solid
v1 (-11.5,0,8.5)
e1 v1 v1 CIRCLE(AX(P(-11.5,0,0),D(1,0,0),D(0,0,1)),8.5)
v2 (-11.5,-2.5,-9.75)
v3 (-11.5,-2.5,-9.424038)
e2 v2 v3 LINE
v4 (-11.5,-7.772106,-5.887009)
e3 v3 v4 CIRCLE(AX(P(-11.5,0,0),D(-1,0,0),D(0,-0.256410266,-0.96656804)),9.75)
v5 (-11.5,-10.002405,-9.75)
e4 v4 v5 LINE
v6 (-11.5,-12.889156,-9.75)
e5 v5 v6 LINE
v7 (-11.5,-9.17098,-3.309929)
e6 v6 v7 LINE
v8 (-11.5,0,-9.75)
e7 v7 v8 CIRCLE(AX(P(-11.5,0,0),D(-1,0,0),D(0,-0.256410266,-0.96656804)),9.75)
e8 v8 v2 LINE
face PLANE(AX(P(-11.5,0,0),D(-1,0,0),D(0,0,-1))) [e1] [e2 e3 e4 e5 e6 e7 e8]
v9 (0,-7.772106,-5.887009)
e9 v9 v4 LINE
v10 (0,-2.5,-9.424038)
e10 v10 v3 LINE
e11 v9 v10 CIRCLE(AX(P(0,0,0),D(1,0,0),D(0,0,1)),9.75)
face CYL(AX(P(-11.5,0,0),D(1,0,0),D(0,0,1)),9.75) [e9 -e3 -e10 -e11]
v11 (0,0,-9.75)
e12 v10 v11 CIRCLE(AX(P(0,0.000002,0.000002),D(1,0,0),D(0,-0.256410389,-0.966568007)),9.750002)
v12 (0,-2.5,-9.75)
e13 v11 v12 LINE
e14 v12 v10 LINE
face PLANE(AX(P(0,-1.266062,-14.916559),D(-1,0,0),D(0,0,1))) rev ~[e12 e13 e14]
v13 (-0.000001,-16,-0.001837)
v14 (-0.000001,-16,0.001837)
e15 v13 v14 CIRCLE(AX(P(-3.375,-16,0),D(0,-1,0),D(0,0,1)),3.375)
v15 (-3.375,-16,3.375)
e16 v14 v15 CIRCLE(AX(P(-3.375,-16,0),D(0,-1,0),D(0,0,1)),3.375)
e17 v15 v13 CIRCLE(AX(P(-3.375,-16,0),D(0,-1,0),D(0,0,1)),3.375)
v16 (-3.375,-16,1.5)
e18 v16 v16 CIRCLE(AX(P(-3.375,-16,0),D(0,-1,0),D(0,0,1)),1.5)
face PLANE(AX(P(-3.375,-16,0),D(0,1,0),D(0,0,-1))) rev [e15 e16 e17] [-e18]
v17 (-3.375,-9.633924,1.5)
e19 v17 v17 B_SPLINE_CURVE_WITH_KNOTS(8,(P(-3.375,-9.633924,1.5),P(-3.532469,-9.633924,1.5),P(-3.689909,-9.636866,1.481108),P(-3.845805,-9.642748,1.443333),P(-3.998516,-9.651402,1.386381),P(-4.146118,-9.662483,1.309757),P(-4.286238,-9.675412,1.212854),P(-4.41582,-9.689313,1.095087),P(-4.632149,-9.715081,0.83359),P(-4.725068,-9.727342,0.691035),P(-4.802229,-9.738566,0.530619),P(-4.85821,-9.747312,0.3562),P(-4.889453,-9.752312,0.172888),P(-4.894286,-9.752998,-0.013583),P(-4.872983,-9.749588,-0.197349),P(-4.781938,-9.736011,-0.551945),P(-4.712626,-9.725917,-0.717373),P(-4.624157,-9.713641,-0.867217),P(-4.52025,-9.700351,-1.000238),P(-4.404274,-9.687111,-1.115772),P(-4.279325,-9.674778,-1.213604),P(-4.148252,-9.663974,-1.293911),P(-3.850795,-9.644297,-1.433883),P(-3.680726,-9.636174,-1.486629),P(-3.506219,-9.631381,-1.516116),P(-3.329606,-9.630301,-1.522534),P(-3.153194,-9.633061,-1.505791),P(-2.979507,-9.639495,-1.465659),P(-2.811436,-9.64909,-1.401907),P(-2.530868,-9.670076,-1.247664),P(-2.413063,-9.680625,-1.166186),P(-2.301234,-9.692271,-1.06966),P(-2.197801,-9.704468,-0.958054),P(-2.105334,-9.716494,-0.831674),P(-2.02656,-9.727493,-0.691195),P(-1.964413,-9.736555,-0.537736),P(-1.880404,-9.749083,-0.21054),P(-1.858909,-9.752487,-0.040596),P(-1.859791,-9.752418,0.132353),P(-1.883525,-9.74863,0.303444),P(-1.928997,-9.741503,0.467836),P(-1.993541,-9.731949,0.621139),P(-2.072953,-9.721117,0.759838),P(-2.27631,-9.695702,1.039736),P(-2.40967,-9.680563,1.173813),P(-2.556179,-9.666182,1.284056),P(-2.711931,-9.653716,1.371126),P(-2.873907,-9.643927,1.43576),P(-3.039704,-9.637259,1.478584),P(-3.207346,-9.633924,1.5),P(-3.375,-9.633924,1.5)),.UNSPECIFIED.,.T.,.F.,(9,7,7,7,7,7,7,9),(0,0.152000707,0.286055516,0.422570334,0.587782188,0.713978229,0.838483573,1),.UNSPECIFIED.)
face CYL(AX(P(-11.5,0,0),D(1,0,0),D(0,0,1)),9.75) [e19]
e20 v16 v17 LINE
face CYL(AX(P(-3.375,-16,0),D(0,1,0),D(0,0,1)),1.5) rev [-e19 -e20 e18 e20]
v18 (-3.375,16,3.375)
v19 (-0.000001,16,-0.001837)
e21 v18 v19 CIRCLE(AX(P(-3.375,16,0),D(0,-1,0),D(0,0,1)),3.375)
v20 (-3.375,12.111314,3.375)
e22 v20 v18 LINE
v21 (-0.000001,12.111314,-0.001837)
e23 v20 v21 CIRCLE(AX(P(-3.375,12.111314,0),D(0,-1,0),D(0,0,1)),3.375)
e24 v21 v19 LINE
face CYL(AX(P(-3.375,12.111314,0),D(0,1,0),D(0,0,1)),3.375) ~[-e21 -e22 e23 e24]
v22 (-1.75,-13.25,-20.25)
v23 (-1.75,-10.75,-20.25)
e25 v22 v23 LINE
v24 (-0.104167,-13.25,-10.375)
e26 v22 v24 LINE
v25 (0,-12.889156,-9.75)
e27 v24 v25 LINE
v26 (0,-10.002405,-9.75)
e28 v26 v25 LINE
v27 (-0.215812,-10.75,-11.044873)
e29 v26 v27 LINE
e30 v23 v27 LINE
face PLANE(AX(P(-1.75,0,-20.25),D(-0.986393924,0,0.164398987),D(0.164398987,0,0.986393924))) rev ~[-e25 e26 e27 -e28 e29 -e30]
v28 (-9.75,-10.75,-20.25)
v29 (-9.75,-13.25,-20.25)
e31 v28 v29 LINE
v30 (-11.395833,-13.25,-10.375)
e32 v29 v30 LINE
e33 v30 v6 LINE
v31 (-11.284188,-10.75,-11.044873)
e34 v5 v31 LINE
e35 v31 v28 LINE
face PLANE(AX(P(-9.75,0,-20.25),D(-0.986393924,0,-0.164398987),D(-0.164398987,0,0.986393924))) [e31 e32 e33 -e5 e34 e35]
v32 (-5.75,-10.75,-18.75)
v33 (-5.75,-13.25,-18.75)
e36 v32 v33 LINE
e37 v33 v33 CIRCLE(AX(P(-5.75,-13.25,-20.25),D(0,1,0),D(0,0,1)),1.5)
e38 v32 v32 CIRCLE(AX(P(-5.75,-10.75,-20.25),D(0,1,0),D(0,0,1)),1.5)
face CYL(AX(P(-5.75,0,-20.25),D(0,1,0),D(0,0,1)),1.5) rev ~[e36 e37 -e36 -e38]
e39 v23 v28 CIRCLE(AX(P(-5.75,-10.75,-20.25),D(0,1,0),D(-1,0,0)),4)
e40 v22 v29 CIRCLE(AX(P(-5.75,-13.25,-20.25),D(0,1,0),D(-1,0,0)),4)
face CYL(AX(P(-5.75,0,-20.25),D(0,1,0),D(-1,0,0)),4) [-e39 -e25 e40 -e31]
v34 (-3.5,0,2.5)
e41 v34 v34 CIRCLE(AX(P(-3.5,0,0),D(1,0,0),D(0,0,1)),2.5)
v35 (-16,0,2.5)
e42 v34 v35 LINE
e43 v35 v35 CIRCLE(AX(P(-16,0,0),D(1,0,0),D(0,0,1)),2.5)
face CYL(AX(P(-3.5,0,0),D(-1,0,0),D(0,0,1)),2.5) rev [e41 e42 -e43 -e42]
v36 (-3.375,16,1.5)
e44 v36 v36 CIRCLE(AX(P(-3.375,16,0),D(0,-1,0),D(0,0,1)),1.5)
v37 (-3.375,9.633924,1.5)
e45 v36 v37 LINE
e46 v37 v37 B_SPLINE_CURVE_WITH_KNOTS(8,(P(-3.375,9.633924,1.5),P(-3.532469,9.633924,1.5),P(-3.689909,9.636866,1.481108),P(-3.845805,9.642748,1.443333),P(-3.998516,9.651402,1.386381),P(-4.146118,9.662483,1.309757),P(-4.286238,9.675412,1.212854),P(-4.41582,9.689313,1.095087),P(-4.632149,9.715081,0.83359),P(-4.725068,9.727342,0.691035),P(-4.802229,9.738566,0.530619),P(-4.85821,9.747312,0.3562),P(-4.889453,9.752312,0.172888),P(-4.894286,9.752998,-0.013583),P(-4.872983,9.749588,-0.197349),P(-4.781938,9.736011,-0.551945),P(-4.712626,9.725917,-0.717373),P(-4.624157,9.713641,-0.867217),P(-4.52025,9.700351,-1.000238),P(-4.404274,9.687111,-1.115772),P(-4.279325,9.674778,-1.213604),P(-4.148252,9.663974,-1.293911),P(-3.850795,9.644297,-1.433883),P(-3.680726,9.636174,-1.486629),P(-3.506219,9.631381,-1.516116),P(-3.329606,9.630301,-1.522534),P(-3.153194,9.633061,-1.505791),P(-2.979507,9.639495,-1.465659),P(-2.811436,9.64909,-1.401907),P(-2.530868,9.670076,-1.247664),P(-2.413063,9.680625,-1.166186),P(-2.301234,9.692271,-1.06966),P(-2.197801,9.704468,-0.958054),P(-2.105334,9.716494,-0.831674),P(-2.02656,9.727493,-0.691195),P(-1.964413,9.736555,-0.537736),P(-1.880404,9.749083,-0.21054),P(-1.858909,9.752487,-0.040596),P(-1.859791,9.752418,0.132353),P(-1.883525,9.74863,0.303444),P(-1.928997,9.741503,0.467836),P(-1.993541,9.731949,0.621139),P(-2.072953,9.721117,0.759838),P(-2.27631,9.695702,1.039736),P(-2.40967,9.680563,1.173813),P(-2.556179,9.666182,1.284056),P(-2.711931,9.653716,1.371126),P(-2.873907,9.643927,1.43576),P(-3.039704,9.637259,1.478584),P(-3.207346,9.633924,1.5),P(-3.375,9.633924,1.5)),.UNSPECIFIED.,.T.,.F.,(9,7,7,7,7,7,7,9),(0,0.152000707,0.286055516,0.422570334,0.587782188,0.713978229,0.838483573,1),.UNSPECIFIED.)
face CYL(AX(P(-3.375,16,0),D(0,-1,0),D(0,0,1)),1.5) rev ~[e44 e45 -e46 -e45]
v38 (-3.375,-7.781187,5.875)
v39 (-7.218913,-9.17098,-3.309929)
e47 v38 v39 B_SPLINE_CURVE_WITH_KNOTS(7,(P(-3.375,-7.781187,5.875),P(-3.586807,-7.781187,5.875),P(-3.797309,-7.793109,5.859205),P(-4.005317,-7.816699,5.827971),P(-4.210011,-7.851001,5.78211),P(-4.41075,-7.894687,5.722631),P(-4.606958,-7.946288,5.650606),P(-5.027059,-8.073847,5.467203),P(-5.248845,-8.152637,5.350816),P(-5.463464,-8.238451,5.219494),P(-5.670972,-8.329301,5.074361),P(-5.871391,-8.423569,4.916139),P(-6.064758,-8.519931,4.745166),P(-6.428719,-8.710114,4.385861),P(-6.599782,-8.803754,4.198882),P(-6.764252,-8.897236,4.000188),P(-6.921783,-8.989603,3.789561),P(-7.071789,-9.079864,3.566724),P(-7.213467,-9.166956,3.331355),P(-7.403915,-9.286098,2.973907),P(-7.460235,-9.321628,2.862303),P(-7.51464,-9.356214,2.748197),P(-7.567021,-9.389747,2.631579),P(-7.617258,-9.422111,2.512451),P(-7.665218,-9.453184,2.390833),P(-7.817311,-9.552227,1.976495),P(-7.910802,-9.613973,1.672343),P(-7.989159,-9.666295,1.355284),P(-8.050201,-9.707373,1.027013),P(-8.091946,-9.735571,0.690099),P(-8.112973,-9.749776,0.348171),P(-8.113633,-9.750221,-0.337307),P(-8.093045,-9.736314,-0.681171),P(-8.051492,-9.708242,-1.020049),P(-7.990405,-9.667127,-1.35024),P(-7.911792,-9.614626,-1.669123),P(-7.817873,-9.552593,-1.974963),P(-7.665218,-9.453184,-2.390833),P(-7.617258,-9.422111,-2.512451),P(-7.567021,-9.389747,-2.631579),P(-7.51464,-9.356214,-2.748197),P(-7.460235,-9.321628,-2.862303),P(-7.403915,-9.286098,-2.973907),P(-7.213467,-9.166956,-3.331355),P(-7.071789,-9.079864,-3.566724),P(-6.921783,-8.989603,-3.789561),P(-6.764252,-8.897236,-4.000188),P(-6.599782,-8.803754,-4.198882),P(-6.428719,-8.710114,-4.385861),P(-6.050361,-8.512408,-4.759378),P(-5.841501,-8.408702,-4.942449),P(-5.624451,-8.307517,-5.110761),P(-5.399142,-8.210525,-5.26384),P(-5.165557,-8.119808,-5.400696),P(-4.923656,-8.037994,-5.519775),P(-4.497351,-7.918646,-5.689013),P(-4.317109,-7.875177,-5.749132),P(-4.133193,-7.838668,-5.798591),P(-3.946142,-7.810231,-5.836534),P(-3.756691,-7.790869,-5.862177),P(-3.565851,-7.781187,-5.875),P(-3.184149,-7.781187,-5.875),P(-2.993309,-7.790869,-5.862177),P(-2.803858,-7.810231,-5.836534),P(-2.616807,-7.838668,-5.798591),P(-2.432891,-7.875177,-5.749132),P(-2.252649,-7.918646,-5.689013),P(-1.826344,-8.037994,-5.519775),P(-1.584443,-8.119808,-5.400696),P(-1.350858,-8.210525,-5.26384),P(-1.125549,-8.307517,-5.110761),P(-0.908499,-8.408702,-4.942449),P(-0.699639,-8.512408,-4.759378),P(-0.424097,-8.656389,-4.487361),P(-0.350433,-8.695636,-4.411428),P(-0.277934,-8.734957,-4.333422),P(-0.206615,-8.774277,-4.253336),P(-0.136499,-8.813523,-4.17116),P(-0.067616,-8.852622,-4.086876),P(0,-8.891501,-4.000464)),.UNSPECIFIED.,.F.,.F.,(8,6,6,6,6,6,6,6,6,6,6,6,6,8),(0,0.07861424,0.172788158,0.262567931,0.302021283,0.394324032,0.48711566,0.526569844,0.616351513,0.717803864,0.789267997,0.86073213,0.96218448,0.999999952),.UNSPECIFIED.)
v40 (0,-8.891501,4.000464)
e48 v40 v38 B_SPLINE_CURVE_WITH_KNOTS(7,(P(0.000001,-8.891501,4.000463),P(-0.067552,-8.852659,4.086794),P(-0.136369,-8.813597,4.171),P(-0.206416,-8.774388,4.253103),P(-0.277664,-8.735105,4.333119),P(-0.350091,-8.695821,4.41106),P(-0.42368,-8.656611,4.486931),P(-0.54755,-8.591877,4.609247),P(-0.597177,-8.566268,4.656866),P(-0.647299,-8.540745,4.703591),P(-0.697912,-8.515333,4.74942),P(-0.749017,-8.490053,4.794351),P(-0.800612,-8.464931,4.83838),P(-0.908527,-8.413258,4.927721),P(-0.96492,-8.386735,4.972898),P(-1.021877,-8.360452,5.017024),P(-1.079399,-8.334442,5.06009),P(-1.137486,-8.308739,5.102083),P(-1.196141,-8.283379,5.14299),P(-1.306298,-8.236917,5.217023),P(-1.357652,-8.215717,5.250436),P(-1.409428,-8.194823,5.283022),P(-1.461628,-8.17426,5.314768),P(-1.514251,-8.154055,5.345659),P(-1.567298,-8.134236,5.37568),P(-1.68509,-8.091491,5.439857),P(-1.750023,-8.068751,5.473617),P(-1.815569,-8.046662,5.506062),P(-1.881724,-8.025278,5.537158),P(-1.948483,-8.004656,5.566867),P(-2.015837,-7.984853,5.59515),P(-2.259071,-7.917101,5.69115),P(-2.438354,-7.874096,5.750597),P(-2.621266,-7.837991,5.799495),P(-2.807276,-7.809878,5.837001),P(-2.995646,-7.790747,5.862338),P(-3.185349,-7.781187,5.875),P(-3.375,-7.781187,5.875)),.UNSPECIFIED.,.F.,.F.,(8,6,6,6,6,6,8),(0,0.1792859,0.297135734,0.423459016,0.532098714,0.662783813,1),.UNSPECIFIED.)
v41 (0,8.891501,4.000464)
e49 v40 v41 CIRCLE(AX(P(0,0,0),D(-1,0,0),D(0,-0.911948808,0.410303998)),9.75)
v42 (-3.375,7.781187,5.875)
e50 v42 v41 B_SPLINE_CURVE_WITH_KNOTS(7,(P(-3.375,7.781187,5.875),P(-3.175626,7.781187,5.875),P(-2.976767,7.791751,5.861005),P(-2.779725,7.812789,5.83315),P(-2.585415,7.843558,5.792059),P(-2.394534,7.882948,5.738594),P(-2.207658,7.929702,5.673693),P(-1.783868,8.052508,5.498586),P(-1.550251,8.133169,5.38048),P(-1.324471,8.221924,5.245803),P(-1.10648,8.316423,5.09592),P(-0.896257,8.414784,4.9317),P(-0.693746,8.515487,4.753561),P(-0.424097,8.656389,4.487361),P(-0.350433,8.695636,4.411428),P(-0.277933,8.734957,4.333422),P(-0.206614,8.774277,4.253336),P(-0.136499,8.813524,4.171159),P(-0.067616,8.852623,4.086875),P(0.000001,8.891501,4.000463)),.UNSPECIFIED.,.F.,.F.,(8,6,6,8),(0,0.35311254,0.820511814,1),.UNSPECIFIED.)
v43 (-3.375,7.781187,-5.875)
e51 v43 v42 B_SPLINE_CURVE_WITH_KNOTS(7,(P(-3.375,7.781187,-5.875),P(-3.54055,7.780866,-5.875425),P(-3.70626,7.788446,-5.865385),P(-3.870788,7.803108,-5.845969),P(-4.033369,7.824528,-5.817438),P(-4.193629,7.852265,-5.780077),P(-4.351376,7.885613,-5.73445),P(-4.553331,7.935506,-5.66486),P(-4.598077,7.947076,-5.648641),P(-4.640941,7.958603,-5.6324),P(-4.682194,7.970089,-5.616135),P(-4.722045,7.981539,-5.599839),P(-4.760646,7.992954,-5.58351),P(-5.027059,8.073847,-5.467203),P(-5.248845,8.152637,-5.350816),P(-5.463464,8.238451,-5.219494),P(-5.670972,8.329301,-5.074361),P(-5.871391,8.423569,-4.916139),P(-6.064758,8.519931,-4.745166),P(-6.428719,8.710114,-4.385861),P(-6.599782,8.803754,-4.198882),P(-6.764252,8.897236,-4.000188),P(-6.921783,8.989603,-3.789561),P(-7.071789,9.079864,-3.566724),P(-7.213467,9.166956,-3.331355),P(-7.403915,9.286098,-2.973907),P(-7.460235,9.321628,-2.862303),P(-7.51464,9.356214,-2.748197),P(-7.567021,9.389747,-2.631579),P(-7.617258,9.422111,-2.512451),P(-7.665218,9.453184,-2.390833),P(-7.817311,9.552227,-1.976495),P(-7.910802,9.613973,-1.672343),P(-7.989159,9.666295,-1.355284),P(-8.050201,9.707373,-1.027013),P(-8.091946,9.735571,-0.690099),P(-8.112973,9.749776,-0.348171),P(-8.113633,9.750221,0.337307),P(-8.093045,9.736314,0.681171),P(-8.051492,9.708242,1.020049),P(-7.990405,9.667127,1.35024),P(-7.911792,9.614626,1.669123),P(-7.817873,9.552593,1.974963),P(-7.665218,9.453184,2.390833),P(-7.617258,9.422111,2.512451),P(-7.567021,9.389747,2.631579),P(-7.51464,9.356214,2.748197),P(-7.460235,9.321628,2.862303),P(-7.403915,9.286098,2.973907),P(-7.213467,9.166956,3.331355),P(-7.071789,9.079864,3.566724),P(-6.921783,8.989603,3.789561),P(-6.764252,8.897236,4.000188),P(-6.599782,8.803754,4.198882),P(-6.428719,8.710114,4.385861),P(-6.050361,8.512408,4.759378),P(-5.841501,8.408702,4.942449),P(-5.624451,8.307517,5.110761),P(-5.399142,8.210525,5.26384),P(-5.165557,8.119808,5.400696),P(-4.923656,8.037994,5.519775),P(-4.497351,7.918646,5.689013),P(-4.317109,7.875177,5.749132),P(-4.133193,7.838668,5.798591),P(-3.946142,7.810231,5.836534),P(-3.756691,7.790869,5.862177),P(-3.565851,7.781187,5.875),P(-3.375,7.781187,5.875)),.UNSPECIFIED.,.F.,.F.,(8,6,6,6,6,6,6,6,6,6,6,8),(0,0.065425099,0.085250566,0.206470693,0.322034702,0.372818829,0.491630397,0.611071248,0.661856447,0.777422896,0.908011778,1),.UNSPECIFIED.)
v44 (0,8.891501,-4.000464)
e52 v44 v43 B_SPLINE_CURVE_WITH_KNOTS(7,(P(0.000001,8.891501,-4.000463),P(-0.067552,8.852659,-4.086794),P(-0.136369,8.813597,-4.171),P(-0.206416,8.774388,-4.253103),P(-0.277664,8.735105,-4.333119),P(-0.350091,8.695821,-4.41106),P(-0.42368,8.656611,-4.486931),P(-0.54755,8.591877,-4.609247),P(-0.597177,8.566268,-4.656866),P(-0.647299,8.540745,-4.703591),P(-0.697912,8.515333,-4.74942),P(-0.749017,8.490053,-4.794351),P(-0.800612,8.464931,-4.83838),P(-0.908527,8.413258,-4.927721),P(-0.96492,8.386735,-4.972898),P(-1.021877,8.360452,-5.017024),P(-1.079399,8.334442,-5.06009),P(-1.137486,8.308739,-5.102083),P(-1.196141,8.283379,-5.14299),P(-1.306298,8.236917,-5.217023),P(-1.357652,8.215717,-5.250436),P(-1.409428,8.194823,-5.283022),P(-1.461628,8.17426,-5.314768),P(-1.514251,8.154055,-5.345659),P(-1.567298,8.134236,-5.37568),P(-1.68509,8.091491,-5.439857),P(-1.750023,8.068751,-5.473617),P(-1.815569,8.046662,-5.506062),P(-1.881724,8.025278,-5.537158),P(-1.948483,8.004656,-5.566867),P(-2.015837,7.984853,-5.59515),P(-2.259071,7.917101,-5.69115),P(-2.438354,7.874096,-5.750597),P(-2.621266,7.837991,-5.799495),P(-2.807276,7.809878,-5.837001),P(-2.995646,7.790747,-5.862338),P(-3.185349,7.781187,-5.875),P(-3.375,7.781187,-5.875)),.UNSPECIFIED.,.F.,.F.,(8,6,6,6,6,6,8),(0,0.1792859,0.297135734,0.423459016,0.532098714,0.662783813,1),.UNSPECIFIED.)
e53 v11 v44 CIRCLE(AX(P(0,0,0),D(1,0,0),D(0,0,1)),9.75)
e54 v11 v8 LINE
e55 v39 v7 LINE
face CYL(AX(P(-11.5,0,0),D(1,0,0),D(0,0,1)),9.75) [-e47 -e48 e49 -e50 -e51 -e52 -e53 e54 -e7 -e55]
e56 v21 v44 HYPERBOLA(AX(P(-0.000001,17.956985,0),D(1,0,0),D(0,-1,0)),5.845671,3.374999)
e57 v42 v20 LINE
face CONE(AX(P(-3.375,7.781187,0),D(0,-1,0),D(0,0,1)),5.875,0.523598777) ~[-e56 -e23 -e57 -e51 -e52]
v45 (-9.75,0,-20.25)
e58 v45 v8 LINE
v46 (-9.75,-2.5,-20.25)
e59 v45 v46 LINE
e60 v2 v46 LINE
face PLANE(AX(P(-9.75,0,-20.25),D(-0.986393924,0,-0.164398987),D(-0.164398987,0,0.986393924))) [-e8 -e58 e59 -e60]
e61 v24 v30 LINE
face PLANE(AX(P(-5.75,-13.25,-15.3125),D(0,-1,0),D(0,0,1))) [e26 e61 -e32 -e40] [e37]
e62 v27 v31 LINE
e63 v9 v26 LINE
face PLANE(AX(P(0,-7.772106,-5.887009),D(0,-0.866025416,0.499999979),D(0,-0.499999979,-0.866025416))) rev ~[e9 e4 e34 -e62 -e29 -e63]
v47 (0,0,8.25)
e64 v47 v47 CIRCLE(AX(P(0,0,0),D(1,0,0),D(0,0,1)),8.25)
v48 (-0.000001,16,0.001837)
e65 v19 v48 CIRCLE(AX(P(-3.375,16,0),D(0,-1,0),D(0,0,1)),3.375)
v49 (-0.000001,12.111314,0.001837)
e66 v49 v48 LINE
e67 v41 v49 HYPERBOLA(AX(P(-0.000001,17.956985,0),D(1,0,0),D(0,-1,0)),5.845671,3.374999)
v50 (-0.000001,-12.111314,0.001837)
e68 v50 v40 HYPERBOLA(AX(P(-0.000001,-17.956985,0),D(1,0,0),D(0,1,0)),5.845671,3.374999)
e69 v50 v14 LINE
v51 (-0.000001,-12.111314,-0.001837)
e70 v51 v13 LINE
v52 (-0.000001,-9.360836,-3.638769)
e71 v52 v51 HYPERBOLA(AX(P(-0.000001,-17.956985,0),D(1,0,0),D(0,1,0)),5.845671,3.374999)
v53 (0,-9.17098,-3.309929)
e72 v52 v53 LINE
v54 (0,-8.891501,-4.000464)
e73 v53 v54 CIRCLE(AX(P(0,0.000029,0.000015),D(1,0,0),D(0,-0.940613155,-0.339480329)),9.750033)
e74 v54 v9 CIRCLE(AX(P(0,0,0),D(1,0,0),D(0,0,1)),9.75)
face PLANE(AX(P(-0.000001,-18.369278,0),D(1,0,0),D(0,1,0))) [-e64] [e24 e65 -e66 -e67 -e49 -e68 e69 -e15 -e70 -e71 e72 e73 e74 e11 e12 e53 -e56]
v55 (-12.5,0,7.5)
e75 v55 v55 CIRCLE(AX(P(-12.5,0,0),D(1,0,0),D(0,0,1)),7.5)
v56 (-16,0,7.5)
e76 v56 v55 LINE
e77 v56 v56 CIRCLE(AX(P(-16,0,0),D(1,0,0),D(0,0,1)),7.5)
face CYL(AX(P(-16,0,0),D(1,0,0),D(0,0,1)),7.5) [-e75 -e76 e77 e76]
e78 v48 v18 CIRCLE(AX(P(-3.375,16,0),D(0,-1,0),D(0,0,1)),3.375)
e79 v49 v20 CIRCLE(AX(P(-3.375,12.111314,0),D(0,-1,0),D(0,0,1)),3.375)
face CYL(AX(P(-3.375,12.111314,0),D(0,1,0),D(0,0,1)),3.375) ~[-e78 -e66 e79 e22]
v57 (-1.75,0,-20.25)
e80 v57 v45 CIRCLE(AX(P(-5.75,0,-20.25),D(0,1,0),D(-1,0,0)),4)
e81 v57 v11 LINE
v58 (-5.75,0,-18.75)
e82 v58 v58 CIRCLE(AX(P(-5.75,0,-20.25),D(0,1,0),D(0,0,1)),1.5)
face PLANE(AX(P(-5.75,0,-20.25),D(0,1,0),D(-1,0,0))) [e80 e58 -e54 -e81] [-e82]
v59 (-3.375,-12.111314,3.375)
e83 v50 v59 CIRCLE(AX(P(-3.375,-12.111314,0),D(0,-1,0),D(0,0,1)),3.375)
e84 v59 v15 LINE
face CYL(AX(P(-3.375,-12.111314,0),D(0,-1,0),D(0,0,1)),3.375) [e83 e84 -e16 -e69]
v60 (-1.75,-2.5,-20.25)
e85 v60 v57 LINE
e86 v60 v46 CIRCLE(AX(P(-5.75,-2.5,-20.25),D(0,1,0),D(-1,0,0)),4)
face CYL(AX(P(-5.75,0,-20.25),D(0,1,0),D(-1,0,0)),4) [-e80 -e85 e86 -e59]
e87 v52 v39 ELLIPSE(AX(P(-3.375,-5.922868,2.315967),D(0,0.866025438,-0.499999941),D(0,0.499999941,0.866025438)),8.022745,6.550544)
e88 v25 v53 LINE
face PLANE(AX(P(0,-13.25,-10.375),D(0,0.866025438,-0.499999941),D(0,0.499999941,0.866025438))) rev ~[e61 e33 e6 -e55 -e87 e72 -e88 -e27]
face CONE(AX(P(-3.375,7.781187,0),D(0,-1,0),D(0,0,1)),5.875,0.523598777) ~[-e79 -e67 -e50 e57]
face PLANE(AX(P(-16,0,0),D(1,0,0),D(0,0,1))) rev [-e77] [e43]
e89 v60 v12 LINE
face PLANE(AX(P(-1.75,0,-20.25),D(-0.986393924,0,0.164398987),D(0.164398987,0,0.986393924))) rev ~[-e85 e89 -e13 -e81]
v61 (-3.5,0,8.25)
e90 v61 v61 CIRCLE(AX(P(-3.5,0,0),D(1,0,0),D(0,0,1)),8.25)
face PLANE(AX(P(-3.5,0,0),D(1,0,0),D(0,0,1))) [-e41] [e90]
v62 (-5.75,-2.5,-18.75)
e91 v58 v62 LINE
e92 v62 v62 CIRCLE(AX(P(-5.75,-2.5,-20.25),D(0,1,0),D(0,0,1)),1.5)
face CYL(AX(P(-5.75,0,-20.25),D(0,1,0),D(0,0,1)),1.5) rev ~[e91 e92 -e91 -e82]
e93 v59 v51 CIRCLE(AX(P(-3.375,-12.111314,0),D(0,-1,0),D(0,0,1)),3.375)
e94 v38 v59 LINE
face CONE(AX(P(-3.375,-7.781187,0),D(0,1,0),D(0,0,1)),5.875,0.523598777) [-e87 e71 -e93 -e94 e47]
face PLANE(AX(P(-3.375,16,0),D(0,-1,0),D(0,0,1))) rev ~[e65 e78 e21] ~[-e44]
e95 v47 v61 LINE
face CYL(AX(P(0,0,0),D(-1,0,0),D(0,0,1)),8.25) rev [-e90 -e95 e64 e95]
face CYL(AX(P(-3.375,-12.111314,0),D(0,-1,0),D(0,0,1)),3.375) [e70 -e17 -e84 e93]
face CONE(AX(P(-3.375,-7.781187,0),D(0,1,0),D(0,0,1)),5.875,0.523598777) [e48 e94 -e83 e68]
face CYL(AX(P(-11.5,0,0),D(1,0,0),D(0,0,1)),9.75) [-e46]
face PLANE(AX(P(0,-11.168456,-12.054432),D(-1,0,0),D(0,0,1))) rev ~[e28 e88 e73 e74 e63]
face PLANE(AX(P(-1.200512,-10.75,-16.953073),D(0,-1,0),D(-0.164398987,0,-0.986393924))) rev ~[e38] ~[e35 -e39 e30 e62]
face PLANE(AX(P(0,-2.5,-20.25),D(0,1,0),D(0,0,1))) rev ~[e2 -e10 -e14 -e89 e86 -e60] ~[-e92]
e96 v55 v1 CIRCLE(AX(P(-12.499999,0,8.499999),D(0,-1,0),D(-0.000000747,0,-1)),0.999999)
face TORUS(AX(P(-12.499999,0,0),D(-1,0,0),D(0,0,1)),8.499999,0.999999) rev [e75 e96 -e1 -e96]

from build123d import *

# Parameters (mm, degrees)
SKETCH3_W           = 7.302665
SKETCH3_H           = 36.305572
FACE_CUT_DEPTH      = 10
LINK_ARMS_REACH     = 26.639
ROUNDED_LINKS_REACH = 32.365
SKETCH6_R           = 4
TRIM_1_REACH        = 35.167
SKETCH7_R           = 1.5
SKETCH8_W           = 8
SKETCH8_H           = 8.25
TRIM_2_DEPTH        = 15


with BuildPart() as part:
    # Sketch1 → Base Cylinder (revolve)
    with BuildSketch(Plane.XY, mode=Mode.PRIVATE) as base_cylinder_sk:
        with BuildLine():
            Line((-16, 2.5), (-16, 7.5))
            Line((-16, 7.5), (-12.5, 7.5))
            ThreePointArc((-12.5, 7.5), (-11.792893, 7.792893), (-11.5, 8.5))
            Line((-11.5, 8.5), (-11.5, 9.75))
            Line((-11.5, 9.75), (0, 9.75))
            Line((0, 9.75), (0, 8.25))
            Line((0, 8.25), (-3.5, 8.25))
            Line((-3.5, 8.25), (-3.5, 2.5))
            Line((-3.5, 2.5), (-16, 2.5))
        make_face()
    revolve(base_cylinder_sk.sketch.rotate(Axis((-29.02439, 0, 0), (1, 0, 0)), 90), axis=Axis((-29.02439, 0, 0), (1, 0, 0)))

    # Sketch2 → Suspension attachments (revolve)
    with BuildSketch(Plane(origin=(-3.375, 0, 0), x_dir=(0, 0, -1), z_dir=(1, 0, 0))):
        with BuildLine():
            Line((-3.375, 16), (-1.5, 16))
            Line((-1.5, 16), (-1.5, 9.633924))
            ThreePointArc((-1.5, 9.633924), (-3.80208, 8.978123), (-5.875, 7.781187))
            Line((-5.875, 7.781187), (-3.375, 12.111314))
            Line((-3.375, 12.111314), (-3.375, 16))
        make_face()
    suspension_attachments = revolve(axis=Axis((-3.375, 16.888615, 0), (0, -1, 0)))

    # Mirror1: Suspension attachments across plane
    add(suspension_attachments.mirror(Plane.ZX))

    # Sketch3 → Face Cut (cut, symmetric)
    with BuildSketch(Plane.XY):
        with Locations((3.651332, -0.216492)):
            Rectangle(SKETCH3_W, SKETCH3_H)
    extrude(amount=FACE_CUT_DEPTH, both=True, mode=Mode.SUBTRACT)

    # Link Arms: up to this face of the body (flat: up to its plane)
    link_arms_end = Plane(part.part.faces().sort_by_distance((-11.5, 0, -8.775772))[0])
    # Sketch5 → Link Arms (add, up to the picked face)
    with BuildSketch(Plane(origin=(0, 0, 0), x_dir=(0, 0, -1), z_dir=(1, 0, 0)), mode=Mode.PRIVATE) as link_arms_sk1:
        with BuildLine():
            Line((9.75, 0), (20.25, 0))
            Line((20.25, 0), (20.25, -2.5))
            Line((20.25, -2.5), (9.424038, -2.5))
            ThreePointArc((9.424038, -2.5), (9.668166, -1.26058), (9.75, 0))
        make_face()
    link_arms_tool1 = split(extrude(link_arms_sk1.sketch, amount=-LINK_ARMS_REACH, mode=Mode.PRIVATE), bisect_by=link_arms_end, keep=Keep.BOTH, mode=Mode.PRIVATE)
    # Sketch5 → Link Arms (add, up to the picked face)
    with BuildSketch(Plane(origin=(0, 0, 0), x_dir=(0, 0, -1), z_dir=(1, 0, 0)), mode=Mode.PRIVATE) as link_arms_sk2:
        with BuildLine():
            Line((5.887009, -7.772106), (11.044873, -10.75))
            Line((11.044873, -10.75), (20.25, -10.75))
            Line((20.25, -10.75), (20.25, -13.25))
            Line((20.25, -13.25), (10.375, -13.25))
            Line((10.375, -13.25), (3.309929, -9.17098))
            ThreePointArc((3.309929, -9.17098), (4.651358, -8.568977), (5.887009, -7.772106))
        make_face()
    link_arms_tool2 = split(extrude(link_arms_sk2.sketch, amount=-LINK_ARMS_REACH, mode=Mode.PRIVATE), bisect_by=link_arms_end, keep=Keep.BOTH, mode=Mode.PRIVATE)
    add(link_arms_tool1.solids().sort_by(Axis((0, -1.25638, -14.945599), (-1, 0, 0)))[0])
    add(link_arms_tool2.solids().sort_by(Axis((0, -11.294384, -12.172928), (-1, 0, 0)))[0])

    # Rounded Links: up to this face of the body (flat: up to its plane)
    rounded_links_end = Plane(part.part.faces().sort_by_distance((-5.75, -13.25, -15.3125))[0])
    # Sketch6 → Rounded Links (add, up to the picked face)
    with BuildSketch(Plane(origin=(0, 0, 0), x_dir=(1, 0, 0), z_dir=(0, 1, 0)), mode=Mode.PRIVATE) as rounded_links_sk1:
        with Locations(Location((-5.75, 20.25, 0), (0, 0, 180))):
            Circle(SKETCH6_R)
    rounded_links_tool1 = split(extrude(rounded_links_sk1.sketch, amount=-ROUNDED_LINKS_REACH, mode=Mode.PRIVATE), bisect_by=rounded_links_end, keep=Keep.BOTH, mode=Mode.PRIVATE)
    add(rounded_links_tool1.solids().sort_by(Axis((-5.75, 0, -20.25), (0, -1, 0)))[0])

    # Trim 1: up to this face of the body (flat: up to its plane)
    trim_1_end = Plane(part.part.faces().sort_by_distance((-5.75, -13.25, -16.514845))[0])
    # Sketch7 → Trim 1 (cut, up to the picked face)
    with BuildSketch(Plane(origin=(0, 0, 0), x_dir=(1, 0, 0), z_dir=(0, 1, 0)), mode=Mode.PRIVATE) as trim_1_sk1:
        with Locations(Location((-5.75, 20.25, 0), (0, 0, 270))):
            Circle(SKETCH7_R)
    trim_1_tool1 = split(extrude(trim_1_sk1.sketch, amount=-TRIM_1_REACH, mode=Mode.PRIVATE), bisect_by=trim_1_end, keep=Keep.BOTH, mode=Mode.PRIVATE)
    # Sketch7 → Trim 1 (cut, up to the picked face)
    with BuildSketch(Plane(origin=(0, 0, 0), x_dir=(1, 0, 0), z_dir=(0, 1, 0)), mode=Mode.PRIVATE) as trim_1_sk2:
        Polygon((-9.75, 20.25), (-11.5, 9.75), (-11.5, 20.25), align=None)
    trim_1_tool2 = split(extrude(trim_1_sk2.sketch, amount=-TRIM_1_REACH, mode=Mode.PRIVATE), bisect_by=trim_1_end, keep=Keep.BOTH, mode=Mode.PRIVATE)
    # Sketch7 → Trim 1 (cut, up to the picked face)
    with BuildSketch(Plane(origin=(0, 0, 0), x_dir=(1, 0, 0), z_dir=(0, 1, 0)), mode=Mode.PRIVATE) as trim_1_sk3:
        Polygon((-1.75, 20.25), (0, 9.75), (0, 20.25), align=None)
    trim_1_tool3 = split(extrude(trim_1_sk3.sketch, amount=-TRIM_1_REACH, mode=Mode.PRIVATE), bisect_by=trim_1_end, keep=Keep.BOTH, mode=Mode.PRIVATE)
    add(trim_1_tool1.solids().sort_by(Axis((-5.75, 0, -20.25), (0, -1, 0)))[0], mode=Mode.SUBTRACT)
    add(trim_1_tool2.solids().sort_by(Axis((-10.916667, 0, -16.75), (0, -1, 0)))[0], mode=Mode.SUBTRACT)
    add(trim_1_tool3.solids().sort_by(Axis((-0.583333, 0, -16.75), (0, -1, 0)))[0], mode=Mode.SUBTRACT)

    # Sketch8 → Trim 2 (cut, symmetric)
    with BuildSketch(Plane(origin=(1.581081, 0, -0.263514), x_dir=(-0.1643989873053571, 0, -0.9863939238321439), z_dir=(0.9863939238321439, 0, -0.1643989873053571))):
        with Locations((20.919771, -6.625)):
            Rectangle(SKETCH8_W, SKETCH8_H)
    extrude(amount=TRIM_2_DEPTH, both=True, mode=Mode.SUBTRACT)


solid = part.part
